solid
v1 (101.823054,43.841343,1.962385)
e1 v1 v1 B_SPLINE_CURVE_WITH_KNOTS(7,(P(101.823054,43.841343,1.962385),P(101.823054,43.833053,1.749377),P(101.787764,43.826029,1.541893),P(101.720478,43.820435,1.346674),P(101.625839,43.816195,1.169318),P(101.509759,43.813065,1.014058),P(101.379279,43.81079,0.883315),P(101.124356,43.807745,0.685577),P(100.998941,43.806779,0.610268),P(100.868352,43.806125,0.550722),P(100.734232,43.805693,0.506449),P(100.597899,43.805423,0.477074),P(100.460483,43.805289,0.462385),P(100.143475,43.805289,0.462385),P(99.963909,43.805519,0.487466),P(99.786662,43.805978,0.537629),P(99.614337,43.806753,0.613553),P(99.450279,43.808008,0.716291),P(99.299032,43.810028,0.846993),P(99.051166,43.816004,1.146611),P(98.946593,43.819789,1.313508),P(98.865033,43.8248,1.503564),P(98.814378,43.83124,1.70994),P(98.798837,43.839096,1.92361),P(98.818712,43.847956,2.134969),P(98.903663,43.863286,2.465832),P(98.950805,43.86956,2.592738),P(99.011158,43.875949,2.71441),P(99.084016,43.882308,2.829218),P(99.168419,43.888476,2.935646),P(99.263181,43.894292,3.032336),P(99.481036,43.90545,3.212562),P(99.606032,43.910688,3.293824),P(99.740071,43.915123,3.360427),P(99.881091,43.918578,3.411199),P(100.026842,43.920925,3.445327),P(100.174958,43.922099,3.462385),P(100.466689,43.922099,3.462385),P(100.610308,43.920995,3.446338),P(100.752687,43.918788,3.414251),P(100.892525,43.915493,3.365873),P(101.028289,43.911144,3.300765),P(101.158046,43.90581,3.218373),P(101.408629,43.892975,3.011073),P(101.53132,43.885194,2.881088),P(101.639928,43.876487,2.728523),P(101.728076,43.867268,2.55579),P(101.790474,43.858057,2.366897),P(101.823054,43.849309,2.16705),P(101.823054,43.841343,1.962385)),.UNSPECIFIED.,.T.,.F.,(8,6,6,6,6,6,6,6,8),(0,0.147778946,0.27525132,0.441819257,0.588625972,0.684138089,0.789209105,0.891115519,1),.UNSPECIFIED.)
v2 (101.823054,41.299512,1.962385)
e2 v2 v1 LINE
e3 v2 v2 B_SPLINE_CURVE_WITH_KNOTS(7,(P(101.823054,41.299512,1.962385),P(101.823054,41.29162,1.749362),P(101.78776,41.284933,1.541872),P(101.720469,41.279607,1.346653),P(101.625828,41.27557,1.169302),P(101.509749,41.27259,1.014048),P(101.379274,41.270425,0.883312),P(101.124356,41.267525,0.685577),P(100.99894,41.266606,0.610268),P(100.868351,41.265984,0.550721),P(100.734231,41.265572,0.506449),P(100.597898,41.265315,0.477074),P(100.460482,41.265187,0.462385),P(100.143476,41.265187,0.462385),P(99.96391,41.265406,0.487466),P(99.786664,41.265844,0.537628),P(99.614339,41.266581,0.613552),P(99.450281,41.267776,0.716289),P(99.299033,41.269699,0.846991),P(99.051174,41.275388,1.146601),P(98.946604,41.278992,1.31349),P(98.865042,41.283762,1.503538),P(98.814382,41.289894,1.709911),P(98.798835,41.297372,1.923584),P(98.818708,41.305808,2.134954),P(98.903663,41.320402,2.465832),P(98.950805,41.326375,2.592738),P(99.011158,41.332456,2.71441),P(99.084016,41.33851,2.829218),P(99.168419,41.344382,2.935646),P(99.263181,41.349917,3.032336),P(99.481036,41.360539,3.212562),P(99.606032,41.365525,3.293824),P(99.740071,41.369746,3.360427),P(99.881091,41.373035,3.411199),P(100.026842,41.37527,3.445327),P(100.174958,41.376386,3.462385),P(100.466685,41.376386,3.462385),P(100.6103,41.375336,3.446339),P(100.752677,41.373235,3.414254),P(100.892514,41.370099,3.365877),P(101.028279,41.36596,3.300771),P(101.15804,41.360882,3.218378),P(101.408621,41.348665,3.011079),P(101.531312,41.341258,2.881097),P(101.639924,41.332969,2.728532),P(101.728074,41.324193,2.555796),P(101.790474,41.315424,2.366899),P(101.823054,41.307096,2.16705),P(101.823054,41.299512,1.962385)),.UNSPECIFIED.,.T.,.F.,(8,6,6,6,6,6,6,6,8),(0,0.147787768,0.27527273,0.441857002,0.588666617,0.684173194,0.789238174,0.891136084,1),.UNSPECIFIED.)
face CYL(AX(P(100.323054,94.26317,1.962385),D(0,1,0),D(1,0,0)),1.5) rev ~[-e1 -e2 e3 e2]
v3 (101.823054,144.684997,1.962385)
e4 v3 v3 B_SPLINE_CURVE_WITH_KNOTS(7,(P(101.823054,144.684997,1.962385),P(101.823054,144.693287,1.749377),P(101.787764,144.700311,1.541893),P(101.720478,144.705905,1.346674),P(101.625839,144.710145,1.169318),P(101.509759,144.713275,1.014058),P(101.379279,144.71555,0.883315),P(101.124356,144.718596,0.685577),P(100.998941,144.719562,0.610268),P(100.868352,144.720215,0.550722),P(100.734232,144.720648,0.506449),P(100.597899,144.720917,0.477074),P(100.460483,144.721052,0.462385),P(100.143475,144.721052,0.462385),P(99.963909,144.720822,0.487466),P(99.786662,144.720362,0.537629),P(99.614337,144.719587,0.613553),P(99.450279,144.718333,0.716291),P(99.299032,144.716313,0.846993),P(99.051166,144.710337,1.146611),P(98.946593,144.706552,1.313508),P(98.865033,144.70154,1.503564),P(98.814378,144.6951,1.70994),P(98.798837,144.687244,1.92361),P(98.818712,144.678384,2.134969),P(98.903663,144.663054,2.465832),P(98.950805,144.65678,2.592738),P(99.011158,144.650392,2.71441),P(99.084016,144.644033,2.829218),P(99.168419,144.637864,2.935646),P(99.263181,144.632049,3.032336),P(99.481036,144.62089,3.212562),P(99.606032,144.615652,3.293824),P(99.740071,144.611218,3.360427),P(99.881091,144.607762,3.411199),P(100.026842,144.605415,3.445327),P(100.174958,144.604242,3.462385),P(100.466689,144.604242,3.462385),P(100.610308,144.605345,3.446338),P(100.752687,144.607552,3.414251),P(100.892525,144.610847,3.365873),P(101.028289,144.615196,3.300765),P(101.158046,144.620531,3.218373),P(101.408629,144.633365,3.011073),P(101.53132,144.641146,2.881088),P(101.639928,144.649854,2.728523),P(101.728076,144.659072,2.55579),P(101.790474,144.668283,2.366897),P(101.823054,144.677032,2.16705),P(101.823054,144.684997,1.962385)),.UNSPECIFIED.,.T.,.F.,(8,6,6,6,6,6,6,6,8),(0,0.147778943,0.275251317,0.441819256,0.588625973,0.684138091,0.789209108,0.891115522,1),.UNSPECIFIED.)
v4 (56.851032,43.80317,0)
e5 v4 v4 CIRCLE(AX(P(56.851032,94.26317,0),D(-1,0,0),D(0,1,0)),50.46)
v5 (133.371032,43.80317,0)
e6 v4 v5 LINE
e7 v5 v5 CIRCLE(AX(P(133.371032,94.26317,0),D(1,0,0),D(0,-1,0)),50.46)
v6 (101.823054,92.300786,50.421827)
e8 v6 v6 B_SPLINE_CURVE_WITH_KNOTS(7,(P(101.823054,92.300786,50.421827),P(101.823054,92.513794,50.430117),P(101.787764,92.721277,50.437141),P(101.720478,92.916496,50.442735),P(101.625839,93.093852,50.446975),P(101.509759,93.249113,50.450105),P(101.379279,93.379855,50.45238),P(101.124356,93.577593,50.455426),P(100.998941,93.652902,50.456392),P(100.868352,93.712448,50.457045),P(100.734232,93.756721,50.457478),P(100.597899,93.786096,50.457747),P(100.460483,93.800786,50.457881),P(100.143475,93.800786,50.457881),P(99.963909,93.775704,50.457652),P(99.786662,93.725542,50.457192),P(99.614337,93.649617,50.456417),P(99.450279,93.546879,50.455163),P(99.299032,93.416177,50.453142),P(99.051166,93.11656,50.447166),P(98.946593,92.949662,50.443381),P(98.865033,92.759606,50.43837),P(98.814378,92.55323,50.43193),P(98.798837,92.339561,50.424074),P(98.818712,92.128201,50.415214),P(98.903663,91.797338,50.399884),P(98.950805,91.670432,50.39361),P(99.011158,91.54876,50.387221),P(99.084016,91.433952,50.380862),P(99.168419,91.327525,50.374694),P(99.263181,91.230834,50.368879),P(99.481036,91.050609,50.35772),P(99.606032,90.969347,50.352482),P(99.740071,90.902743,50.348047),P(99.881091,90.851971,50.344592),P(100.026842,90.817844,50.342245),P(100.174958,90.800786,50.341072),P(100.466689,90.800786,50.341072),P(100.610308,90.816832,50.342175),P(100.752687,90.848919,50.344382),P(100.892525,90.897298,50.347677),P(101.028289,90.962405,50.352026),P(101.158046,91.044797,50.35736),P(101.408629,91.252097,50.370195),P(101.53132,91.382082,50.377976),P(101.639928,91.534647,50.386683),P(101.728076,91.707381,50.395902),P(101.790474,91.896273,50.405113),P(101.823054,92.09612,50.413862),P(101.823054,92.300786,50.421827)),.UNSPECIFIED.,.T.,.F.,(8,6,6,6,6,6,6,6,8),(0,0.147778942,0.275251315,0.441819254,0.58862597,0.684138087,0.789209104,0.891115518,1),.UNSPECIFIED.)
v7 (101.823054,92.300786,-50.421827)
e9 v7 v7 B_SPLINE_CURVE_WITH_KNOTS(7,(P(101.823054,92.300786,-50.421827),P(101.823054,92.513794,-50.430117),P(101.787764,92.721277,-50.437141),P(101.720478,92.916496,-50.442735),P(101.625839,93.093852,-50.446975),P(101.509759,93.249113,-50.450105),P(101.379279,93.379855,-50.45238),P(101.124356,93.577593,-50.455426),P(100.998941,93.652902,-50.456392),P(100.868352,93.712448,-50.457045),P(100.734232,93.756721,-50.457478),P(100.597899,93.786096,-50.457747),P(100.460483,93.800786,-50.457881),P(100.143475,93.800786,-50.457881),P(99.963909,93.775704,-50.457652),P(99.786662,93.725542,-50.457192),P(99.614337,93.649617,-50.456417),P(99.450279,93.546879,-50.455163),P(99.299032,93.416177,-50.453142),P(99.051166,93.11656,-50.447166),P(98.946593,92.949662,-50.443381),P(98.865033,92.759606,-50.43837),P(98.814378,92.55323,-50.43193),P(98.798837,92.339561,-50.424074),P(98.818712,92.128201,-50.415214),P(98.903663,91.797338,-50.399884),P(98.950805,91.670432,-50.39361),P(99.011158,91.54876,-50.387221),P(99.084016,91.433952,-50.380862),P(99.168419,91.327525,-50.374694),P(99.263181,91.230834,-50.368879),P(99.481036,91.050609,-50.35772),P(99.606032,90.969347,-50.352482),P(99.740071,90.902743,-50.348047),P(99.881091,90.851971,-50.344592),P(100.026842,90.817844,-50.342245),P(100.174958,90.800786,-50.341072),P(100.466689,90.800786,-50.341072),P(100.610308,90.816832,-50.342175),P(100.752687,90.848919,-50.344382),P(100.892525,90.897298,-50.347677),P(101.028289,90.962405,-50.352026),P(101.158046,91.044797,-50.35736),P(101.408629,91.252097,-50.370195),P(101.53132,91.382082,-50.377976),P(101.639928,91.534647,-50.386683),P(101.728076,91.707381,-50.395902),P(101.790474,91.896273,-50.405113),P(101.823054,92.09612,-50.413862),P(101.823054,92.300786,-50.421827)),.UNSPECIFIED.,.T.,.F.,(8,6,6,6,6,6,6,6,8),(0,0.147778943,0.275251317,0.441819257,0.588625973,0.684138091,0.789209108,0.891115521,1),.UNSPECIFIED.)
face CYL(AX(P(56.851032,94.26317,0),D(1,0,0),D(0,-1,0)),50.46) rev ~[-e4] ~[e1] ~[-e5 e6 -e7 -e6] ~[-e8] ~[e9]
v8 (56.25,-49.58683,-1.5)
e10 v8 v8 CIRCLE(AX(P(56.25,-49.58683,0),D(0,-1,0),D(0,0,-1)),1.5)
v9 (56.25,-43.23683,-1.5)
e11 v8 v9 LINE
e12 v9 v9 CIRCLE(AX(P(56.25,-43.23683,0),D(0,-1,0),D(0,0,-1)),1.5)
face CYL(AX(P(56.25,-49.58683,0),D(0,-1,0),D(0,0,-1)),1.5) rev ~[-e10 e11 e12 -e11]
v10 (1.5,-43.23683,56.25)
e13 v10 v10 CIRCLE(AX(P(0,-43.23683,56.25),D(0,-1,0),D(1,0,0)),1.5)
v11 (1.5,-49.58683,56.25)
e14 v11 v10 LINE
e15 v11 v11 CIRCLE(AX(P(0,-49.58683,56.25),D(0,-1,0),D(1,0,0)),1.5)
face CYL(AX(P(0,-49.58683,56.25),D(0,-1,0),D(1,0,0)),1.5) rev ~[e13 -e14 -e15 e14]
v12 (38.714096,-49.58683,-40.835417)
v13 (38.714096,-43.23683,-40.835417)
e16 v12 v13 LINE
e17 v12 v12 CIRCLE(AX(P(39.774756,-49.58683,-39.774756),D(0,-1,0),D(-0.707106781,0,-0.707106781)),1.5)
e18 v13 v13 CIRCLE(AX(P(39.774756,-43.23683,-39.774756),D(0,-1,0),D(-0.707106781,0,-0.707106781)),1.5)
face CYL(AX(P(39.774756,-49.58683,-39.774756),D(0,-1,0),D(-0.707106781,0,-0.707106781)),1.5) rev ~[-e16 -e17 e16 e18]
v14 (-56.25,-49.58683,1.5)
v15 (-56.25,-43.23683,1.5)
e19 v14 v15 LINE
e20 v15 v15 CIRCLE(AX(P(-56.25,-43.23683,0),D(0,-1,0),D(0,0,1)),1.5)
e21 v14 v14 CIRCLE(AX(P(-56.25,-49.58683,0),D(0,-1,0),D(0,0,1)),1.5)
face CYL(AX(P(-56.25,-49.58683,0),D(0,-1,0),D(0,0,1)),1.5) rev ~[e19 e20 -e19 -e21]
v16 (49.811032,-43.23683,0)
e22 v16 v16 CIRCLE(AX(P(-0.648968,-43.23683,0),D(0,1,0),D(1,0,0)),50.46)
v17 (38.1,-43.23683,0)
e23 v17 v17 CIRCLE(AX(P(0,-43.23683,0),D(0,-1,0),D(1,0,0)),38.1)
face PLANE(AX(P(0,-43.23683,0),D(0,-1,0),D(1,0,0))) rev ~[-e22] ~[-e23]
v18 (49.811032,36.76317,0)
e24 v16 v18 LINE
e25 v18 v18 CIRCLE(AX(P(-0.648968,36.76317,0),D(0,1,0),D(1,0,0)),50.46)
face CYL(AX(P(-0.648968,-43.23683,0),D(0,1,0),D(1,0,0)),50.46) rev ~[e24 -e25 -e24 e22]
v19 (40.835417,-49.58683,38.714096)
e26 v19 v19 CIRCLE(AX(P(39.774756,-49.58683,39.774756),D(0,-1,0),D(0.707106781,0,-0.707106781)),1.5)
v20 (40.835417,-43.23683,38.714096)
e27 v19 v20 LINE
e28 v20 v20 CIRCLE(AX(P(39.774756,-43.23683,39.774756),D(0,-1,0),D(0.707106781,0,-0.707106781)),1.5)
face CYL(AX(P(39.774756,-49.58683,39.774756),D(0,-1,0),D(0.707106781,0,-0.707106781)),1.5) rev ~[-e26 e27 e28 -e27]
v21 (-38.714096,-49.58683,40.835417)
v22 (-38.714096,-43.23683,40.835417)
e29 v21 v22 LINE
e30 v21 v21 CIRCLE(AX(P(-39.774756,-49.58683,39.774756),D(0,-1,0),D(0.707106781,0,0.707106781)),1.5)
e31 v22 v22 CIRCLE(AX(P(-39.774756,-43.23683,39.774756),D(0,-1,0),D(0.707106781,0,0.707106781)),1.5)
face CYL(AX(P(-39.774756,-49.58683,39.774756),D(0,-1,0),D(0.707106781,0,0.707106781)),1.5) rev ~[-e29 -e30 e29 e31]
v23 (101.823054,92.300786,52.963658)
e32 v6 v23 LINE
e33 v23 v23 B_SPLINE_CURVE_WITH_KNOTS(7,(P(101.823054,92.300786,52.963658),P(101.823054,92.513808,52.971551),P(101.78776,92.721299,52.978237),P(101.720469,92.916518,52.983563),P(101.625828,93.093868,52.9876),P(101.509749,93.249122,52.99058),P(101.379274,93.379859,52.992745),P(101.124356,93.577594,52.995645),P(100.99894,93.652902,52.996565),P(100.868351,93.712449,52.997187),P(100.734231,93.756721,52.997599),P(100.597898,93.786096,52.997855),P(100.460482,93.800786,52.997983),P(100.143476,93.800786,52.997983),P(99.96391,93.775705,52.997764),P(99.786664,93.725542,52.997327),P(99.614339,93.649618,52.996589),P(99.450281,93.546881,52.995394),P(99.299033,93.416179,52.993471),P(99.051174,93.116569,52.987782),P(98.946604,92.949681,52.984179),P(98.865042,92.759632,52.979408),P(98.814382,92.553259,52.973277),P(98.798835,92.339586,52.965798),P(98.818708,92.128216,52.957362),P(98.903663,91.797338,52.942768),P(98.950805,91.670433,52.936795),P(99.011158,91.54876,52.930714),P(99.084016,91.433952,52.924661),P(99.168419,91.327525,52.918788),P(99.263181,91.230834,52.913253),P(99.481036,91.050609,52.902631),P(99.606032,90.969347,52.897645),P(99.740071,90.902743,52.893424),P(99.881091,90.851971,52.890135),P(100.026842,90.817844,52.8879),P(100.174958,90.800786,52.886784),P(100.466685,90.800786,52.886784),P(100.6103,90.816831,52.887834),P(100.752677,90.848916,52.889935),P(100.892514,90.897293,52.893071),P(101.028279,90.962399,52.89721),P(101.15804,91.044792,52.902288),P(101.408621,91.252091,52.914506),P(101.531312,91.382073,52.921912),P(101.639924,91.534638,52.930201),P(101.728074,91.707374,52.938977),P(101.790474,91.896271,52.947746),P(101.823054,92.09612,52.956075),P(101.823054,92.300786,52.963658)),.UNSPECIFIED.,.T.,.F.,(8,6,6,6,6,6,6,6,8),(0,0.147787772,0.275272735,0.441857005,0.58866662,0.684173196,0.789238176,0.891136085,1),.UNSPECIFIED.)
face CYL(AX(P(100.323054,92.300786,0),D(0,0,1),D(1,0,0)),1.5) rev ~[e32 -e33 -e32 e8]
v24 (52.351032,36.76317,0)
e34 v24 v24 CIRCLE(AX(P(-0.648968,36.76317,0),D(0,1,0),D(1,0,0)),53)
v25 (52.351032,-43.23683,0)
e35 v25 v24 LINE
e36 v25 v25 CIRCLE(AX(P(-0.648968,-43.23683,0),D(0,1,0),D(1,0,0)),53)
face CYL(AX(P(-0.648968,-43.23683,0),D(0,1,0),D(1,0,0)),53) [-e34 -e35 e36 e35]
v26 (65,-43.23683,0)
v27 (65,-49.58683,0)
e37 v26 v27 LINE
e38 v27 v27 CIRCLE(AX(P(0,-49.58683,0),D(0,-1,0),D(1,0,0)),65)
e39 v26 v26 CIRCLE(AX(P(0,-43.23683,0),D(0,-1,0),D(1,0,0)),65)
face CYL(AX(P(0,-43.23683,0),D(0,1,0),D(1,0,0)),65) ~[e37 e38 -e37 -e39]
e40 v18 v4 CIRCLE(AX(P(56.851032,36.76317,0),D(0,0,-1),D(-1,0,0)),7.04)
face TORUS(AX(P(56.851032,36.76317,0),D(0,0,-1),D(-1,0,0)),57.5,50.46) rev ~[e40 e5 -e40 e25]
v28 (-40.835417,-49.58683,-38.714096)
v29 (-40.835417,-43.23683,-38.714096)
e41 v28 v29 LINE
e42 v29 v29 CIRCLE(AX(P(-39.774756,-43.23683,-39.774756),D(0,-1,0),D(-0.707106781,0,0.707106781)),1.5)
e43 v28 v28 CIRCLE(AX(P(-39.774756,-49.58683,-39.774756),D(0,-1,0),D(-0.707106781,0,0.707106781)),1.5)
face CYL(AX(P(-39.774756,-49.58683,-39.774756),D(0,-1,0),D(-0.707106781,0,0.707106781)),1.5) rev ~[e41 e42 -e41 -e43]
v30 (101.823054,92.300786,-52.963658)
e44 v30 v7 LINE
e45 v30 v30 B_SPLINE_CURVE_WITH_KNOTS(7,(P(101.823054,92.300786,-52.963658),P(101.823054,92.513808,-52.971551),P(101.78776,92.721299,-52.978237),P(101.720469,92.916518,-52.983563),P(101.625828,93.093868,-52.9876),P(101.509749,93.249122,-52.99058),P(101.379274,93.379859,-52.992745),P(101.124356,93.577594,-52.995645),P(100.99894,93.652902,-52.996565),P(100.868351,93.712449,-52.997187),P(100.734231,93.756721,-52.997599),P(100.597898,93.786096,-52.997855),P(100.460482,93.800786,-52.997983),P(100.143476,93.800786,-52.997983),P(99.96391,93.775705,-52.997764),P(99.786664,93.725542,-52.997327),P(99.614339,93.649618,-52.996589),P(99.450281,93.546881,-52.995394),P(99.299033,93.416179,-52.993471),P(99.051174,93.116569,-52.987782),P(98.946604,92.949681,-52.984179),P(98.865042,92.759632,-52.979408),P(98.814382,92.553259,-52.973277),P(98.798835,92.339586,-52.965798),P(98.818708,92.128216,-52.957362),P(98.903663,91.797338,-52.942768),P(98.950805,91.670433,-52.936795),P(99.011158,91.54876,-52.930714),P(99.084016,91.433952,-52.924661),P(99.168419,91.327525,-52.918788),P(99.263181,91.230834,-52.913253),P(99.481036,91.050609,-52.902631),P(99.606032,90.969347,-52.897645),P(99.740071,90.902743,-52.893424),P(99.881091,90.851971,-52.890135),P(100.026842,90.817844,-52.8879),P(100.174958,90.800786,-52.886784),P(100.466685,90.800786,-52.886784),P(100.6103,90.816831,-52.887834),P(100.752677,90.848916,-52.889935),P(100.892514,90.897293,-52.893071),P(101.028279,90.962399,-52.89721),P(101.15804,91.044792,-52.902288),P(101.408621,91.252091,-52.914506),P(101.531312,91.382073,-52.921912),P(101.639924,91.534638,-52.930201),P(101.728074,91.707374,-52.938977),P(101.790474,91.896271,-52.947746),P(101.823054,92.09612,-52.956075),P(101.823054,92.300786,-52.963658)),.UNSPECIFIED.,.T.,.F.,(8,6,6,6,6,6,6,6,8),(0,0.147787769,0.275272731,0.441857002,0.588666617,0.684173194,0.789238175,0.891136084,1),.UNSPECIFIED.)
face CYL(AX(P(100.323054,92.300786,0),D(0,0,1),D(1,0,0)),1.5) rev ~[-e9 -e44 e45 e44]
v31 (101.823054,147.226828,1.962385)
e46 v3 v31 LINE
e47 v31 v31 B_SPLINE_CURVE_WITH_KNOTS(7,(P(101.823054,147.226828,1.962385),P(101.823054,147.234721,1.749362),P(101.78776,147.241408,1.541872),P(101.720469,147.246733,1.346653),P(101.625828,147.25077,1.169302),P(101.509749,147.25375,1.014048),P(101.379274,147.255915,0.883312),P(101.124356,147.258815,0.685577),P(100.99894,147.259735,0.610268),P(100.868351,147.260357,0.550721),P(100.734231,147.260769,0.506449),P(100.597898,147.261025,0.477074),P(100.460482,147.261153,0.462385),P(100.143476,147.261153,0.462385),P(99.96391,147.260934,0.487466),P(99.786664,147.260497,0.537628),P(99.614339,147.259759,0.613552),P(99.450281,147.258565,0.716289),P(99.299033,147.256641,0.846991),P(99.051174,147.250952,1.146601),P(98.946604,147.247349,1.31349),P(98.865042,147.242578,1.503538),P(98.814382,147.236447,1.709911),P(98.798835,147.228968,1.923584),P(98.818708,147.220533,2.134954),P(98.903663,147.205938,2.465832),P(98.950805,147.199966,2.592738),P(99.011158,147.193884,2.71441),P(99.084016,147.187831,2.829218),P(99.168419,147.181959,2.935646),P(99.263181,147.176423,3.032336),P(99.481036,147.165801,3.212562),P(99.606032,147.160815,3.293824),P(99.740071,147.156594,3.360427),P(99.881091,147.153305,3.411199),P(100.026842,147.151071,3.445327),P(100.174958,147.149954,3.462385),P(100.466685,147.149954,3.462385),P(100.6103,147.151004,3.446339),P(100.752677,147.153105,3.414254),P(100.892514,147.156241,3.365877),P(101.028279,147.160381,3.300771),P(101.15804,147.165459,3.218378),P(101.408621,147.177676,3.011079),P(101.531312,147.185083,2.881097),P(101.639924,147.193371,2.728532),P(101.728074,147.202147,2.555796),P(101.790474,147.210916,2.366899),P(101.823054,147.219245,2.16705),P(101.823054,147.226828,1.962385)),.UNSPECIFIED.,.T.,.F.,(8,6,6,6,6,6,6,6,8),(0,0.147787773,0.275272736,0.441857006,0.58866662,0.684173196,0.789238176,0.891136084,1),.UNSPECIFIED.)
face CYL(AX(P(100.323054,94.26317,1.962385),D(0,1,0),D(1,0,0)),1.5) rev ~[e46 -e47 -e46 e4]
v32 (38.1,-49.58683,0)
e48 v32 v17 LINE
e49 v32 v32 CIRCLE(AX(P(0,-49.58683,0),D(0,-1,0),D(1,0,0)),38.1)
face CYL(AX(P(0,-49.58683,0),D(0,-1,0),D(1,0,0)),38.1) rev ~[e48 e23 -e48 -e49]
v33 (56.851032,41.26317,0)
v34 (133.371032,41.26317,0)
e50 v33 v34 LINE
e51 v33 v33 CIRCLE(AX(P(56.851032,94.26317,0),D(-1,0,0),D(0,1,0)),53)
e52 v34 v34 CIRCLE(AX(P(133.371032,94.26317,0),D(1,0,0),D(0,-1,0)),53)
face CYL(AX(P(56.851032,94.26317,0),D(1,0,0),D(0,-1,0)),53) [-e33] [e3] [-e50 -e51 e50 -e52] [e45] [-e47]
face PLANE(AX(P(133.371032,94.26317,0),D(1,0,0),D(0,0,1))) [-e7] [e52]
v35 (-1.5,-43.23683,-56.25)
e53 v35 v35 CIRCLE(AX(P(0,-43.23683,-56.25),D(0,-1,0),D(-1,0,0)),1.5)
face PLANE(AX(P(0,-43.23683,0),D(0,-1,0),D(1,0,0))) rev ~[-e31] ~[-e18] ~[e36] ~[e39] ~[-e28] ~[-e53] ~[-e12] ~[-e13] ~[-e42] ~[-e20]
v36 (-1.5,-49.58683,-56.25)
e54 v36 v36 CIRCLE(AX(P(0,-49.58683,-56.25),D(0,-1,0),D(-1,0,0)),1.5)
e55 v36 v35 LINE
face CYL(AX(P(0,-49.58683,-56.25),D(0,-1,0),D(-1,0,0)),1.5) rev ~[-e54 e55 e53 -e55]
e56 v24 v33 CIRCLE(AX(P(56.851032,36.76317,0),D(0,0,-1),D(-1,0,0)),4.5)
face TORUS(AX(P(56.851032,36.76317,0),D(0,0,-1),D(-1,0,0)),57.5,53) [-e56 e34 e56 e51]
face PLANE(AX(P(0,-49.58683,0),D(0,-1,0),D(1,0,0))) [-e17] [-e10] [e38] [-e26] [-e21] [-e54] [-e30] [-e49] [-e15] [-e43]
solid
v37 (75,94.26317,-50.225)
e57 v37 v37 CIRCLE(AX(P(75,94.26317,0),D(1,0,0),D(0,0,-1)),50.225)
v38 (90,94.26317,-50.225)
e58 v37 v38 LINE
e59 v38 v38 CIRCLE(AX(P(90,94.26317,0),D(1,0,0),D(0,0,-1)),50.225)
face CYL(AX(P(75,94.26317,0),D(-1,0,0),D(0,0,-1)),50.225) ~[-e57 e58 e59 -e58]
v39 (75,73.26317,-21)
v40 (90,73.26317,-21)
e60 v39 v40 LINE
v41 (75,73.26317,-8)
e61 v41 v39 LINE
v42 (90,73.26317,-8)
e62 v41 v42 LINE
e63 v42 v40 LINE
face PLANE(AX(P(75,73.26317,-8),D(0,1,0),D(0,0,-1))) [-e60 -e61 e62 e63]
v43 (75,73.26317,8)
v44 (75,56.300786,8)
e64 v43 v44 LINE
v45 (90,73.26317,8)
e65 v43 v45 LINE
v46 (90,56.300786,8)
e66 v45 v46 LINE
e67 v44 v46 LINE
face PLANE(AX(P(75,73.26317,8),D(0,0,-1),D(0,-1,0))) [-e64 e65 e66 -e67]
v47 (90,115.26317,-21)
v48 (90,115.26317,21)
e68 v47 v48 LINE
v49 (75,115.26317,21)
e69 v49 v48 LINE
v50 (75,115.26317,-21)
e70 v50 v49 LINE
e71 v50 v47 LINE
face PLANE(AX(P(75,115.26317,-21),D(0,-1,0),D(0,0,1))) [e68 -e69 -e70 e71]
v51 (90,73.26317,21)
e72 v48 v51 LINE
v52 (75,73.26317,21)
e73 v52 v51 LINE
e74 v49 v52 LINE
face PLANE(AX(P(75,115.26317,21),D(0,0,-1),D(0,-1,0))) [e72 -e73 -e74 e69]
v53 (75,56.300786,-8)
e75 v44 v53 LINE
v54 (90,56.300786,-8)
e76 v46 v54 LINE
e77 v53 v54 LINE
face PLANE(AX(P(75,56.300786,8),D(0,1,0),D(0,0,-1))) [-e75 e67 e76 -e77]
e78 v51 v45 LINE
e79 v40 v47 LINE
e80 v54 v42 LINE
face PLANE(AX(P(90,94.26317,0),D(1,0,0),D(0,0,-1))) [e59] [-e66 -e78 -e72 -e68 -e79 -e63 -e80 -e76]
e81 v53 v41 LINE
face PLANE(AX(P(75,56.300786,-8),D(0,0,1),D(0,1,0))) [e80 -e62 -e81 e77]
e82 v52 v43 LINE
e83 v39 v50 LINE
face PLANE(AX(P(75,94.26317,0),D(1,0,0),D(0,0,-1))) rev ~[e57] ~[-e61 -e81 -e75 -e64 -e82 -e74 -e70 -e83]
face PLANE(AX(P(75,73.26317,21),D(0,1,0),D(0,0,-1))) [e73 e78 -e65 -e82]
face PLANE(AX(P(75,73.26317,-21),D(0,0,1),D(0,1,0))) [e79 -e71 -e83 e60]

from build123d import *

# Parameters (mm, degrees)
SWEEP5_PROFILE_R         = 53
SHELL13_T                = -2.54
SKETCH19_R               = 65
BOSS_EXTRUDE1_DEPTH      = 6.35
SKETCH20_R               = 38.1
CUT_EXTRUDE1_DEPTH       = 6.35
BOSS_EXTRUDE2_DEPTH      = 10
BOSS_EXTRUDE2_DEPTH_BACK = 5
SKETCH24_R               = 50.225
SKETCH32_R               = 1.5
CUT_EXTRUDE3_DEPTH       = 210.043712111
CIRPATTERN1_COUNT        = 2
CIRPATTERN1_ANGLE        = 90
SKETCH49_R               = 1.5
CUT_EXTRUDE4_DEPTH       = 10
CIRPATTERN2_COUNT        = 8


with BuildPart() as part:
    # Sweep5: sweep along a path in Sketch4
    with BuildLine(Plane.XY) as sweep5_path:
        Line((-0.648967702, -43.236829834), (-0.648967702, 36.763170166))
        ThreePointArc((-0.648967702, 36.763170166), (16.19239238, 77.421810084), (56.851032298, 94.263170166))
        Line((56.851032298, 94.263170166), (133.371032298, 94.263170166))
    # Sweep5 profile (on start of the path) → Sweep5 (sweep)
    with BuildSketch(Plane(origin=(-0.648967702, -43.236829834, 0), x_dir=(1, 0, 0), z_dir=(0, 1, 0))):
        Circle(SWEEP5_PROFILE_R)
    sweep(path=sweep5_path.line)

    # Shell13
    shell13_openings = [part.faces().sort_by_distance(p)[0] for p in [
        (133.371032298, 94.263170166, 0),
        (-0.648967702, -43.236829834, 0),
    ]]
    offset(amount=SHELL13_T, openings=shell13_openings, kind=Kind.INTERSECTION)

    # Sketch19 → Boss-Extrude1 (add)
    with BuildSketch(Plane.XZ.offset(43.236829834)):
        Circle(SKETCH19_R)
    extrude(amount=BOSS_EXTRUDE1_DEPTH)

    # Sketch20 → Cut-Extrude1 (cut)
    with BuildSketch(Plane(origin=(0, -49.586829834, 0), x_dir=(-1, 0, 0), z_dir=(0, -1, 0))):
        with Locations(Location((0, 0, 0), (0, 0, 180))):
            Circle(SKETCH20_R)
    extrude(amount=-CUT_EXTRUDE1_DEPTH, mode=Mode.SUBTRACT)

    # Sketch32 → Cut-Extrude3 (cut, symmetric)
    with BuildSketch(Plane.XY):
        with Locations((100.323053648, 92.3007856)):
            Circle(SKETCH32_R)
    cut_extrude3 = extrude(amount=CUT_EXTRUDE3_DEPTH, both=True, mode=Mode.SUBTRACT)

    # CirPattern1: Cut-Extrude3 ×2 about axis
    cirpattern1_axis = Axis((133.371032298, 94.263170166, 0), (-1, 0, 0))
    for i in range(1, CIRPATTERN1_COUNT):
        add(cut_extrude3.rotate(cirpattern1_axis, i * CIRPATTERN1_ANGLE / (CIRPATTERN1_COUNT - 1)), mode=Mode.SUBTRACT)

    # Sketch49 → Cut-Extrude4 (cut)
    with BuildSketch(Plane.XZ.offset(49.586829834)):
        with Locations((0, 56.25)):
            Circle(SKETCH49_R)
    cut_extrude4 = extrude(amount=-CUT_EXTRUDE4_DEPTH, mode=Mode.SUBTRACT)

    # CirPattern2: Cut-Extrude4 ×8 about axis
    cirpattern2_axis = Axis((0, 0, 0), (0, 1, 0))
    for i in range(1, CIRPATTERN2_COUNT):
        add(cut_extrude4.rotate(cirpattern2_axis, i * 360 / CIRPATTERN2_COUNT), mode=Mode.SUBTRACT)


with BuildPart() as body_2:
    # Sketch24 → Boss-Extrude2 (new, two sides: drawn at the far end of the back side and taken through both)
    with BuildSketch(Plane(origin=(80, 0, 0), x_dir=(0, 0, -1), z_dir=(1, 0, 0)).offset(-BOSS_EXTRUDE2_DEPTH_BACK)):
        with Locations((0, 94.263170166)):
            Circle(SKETCH24_R)
        Polygon((-8, 73.263170166), (-8, 56.3007856), (8, 56.3007856), (8, 73.263170166), (21, 73.263170166), (21, 115.263170166), (-21, 115.263170166), (-21, 73.263170166), align=None, mode=Mode.SUBTRACT)
    extrude(amount=BOSS_EXTRUDE2_DEPTH + BOSS_EXTRUDE2_DEPTH_BACK)


solid = Compound([part.part, body_2.part])
